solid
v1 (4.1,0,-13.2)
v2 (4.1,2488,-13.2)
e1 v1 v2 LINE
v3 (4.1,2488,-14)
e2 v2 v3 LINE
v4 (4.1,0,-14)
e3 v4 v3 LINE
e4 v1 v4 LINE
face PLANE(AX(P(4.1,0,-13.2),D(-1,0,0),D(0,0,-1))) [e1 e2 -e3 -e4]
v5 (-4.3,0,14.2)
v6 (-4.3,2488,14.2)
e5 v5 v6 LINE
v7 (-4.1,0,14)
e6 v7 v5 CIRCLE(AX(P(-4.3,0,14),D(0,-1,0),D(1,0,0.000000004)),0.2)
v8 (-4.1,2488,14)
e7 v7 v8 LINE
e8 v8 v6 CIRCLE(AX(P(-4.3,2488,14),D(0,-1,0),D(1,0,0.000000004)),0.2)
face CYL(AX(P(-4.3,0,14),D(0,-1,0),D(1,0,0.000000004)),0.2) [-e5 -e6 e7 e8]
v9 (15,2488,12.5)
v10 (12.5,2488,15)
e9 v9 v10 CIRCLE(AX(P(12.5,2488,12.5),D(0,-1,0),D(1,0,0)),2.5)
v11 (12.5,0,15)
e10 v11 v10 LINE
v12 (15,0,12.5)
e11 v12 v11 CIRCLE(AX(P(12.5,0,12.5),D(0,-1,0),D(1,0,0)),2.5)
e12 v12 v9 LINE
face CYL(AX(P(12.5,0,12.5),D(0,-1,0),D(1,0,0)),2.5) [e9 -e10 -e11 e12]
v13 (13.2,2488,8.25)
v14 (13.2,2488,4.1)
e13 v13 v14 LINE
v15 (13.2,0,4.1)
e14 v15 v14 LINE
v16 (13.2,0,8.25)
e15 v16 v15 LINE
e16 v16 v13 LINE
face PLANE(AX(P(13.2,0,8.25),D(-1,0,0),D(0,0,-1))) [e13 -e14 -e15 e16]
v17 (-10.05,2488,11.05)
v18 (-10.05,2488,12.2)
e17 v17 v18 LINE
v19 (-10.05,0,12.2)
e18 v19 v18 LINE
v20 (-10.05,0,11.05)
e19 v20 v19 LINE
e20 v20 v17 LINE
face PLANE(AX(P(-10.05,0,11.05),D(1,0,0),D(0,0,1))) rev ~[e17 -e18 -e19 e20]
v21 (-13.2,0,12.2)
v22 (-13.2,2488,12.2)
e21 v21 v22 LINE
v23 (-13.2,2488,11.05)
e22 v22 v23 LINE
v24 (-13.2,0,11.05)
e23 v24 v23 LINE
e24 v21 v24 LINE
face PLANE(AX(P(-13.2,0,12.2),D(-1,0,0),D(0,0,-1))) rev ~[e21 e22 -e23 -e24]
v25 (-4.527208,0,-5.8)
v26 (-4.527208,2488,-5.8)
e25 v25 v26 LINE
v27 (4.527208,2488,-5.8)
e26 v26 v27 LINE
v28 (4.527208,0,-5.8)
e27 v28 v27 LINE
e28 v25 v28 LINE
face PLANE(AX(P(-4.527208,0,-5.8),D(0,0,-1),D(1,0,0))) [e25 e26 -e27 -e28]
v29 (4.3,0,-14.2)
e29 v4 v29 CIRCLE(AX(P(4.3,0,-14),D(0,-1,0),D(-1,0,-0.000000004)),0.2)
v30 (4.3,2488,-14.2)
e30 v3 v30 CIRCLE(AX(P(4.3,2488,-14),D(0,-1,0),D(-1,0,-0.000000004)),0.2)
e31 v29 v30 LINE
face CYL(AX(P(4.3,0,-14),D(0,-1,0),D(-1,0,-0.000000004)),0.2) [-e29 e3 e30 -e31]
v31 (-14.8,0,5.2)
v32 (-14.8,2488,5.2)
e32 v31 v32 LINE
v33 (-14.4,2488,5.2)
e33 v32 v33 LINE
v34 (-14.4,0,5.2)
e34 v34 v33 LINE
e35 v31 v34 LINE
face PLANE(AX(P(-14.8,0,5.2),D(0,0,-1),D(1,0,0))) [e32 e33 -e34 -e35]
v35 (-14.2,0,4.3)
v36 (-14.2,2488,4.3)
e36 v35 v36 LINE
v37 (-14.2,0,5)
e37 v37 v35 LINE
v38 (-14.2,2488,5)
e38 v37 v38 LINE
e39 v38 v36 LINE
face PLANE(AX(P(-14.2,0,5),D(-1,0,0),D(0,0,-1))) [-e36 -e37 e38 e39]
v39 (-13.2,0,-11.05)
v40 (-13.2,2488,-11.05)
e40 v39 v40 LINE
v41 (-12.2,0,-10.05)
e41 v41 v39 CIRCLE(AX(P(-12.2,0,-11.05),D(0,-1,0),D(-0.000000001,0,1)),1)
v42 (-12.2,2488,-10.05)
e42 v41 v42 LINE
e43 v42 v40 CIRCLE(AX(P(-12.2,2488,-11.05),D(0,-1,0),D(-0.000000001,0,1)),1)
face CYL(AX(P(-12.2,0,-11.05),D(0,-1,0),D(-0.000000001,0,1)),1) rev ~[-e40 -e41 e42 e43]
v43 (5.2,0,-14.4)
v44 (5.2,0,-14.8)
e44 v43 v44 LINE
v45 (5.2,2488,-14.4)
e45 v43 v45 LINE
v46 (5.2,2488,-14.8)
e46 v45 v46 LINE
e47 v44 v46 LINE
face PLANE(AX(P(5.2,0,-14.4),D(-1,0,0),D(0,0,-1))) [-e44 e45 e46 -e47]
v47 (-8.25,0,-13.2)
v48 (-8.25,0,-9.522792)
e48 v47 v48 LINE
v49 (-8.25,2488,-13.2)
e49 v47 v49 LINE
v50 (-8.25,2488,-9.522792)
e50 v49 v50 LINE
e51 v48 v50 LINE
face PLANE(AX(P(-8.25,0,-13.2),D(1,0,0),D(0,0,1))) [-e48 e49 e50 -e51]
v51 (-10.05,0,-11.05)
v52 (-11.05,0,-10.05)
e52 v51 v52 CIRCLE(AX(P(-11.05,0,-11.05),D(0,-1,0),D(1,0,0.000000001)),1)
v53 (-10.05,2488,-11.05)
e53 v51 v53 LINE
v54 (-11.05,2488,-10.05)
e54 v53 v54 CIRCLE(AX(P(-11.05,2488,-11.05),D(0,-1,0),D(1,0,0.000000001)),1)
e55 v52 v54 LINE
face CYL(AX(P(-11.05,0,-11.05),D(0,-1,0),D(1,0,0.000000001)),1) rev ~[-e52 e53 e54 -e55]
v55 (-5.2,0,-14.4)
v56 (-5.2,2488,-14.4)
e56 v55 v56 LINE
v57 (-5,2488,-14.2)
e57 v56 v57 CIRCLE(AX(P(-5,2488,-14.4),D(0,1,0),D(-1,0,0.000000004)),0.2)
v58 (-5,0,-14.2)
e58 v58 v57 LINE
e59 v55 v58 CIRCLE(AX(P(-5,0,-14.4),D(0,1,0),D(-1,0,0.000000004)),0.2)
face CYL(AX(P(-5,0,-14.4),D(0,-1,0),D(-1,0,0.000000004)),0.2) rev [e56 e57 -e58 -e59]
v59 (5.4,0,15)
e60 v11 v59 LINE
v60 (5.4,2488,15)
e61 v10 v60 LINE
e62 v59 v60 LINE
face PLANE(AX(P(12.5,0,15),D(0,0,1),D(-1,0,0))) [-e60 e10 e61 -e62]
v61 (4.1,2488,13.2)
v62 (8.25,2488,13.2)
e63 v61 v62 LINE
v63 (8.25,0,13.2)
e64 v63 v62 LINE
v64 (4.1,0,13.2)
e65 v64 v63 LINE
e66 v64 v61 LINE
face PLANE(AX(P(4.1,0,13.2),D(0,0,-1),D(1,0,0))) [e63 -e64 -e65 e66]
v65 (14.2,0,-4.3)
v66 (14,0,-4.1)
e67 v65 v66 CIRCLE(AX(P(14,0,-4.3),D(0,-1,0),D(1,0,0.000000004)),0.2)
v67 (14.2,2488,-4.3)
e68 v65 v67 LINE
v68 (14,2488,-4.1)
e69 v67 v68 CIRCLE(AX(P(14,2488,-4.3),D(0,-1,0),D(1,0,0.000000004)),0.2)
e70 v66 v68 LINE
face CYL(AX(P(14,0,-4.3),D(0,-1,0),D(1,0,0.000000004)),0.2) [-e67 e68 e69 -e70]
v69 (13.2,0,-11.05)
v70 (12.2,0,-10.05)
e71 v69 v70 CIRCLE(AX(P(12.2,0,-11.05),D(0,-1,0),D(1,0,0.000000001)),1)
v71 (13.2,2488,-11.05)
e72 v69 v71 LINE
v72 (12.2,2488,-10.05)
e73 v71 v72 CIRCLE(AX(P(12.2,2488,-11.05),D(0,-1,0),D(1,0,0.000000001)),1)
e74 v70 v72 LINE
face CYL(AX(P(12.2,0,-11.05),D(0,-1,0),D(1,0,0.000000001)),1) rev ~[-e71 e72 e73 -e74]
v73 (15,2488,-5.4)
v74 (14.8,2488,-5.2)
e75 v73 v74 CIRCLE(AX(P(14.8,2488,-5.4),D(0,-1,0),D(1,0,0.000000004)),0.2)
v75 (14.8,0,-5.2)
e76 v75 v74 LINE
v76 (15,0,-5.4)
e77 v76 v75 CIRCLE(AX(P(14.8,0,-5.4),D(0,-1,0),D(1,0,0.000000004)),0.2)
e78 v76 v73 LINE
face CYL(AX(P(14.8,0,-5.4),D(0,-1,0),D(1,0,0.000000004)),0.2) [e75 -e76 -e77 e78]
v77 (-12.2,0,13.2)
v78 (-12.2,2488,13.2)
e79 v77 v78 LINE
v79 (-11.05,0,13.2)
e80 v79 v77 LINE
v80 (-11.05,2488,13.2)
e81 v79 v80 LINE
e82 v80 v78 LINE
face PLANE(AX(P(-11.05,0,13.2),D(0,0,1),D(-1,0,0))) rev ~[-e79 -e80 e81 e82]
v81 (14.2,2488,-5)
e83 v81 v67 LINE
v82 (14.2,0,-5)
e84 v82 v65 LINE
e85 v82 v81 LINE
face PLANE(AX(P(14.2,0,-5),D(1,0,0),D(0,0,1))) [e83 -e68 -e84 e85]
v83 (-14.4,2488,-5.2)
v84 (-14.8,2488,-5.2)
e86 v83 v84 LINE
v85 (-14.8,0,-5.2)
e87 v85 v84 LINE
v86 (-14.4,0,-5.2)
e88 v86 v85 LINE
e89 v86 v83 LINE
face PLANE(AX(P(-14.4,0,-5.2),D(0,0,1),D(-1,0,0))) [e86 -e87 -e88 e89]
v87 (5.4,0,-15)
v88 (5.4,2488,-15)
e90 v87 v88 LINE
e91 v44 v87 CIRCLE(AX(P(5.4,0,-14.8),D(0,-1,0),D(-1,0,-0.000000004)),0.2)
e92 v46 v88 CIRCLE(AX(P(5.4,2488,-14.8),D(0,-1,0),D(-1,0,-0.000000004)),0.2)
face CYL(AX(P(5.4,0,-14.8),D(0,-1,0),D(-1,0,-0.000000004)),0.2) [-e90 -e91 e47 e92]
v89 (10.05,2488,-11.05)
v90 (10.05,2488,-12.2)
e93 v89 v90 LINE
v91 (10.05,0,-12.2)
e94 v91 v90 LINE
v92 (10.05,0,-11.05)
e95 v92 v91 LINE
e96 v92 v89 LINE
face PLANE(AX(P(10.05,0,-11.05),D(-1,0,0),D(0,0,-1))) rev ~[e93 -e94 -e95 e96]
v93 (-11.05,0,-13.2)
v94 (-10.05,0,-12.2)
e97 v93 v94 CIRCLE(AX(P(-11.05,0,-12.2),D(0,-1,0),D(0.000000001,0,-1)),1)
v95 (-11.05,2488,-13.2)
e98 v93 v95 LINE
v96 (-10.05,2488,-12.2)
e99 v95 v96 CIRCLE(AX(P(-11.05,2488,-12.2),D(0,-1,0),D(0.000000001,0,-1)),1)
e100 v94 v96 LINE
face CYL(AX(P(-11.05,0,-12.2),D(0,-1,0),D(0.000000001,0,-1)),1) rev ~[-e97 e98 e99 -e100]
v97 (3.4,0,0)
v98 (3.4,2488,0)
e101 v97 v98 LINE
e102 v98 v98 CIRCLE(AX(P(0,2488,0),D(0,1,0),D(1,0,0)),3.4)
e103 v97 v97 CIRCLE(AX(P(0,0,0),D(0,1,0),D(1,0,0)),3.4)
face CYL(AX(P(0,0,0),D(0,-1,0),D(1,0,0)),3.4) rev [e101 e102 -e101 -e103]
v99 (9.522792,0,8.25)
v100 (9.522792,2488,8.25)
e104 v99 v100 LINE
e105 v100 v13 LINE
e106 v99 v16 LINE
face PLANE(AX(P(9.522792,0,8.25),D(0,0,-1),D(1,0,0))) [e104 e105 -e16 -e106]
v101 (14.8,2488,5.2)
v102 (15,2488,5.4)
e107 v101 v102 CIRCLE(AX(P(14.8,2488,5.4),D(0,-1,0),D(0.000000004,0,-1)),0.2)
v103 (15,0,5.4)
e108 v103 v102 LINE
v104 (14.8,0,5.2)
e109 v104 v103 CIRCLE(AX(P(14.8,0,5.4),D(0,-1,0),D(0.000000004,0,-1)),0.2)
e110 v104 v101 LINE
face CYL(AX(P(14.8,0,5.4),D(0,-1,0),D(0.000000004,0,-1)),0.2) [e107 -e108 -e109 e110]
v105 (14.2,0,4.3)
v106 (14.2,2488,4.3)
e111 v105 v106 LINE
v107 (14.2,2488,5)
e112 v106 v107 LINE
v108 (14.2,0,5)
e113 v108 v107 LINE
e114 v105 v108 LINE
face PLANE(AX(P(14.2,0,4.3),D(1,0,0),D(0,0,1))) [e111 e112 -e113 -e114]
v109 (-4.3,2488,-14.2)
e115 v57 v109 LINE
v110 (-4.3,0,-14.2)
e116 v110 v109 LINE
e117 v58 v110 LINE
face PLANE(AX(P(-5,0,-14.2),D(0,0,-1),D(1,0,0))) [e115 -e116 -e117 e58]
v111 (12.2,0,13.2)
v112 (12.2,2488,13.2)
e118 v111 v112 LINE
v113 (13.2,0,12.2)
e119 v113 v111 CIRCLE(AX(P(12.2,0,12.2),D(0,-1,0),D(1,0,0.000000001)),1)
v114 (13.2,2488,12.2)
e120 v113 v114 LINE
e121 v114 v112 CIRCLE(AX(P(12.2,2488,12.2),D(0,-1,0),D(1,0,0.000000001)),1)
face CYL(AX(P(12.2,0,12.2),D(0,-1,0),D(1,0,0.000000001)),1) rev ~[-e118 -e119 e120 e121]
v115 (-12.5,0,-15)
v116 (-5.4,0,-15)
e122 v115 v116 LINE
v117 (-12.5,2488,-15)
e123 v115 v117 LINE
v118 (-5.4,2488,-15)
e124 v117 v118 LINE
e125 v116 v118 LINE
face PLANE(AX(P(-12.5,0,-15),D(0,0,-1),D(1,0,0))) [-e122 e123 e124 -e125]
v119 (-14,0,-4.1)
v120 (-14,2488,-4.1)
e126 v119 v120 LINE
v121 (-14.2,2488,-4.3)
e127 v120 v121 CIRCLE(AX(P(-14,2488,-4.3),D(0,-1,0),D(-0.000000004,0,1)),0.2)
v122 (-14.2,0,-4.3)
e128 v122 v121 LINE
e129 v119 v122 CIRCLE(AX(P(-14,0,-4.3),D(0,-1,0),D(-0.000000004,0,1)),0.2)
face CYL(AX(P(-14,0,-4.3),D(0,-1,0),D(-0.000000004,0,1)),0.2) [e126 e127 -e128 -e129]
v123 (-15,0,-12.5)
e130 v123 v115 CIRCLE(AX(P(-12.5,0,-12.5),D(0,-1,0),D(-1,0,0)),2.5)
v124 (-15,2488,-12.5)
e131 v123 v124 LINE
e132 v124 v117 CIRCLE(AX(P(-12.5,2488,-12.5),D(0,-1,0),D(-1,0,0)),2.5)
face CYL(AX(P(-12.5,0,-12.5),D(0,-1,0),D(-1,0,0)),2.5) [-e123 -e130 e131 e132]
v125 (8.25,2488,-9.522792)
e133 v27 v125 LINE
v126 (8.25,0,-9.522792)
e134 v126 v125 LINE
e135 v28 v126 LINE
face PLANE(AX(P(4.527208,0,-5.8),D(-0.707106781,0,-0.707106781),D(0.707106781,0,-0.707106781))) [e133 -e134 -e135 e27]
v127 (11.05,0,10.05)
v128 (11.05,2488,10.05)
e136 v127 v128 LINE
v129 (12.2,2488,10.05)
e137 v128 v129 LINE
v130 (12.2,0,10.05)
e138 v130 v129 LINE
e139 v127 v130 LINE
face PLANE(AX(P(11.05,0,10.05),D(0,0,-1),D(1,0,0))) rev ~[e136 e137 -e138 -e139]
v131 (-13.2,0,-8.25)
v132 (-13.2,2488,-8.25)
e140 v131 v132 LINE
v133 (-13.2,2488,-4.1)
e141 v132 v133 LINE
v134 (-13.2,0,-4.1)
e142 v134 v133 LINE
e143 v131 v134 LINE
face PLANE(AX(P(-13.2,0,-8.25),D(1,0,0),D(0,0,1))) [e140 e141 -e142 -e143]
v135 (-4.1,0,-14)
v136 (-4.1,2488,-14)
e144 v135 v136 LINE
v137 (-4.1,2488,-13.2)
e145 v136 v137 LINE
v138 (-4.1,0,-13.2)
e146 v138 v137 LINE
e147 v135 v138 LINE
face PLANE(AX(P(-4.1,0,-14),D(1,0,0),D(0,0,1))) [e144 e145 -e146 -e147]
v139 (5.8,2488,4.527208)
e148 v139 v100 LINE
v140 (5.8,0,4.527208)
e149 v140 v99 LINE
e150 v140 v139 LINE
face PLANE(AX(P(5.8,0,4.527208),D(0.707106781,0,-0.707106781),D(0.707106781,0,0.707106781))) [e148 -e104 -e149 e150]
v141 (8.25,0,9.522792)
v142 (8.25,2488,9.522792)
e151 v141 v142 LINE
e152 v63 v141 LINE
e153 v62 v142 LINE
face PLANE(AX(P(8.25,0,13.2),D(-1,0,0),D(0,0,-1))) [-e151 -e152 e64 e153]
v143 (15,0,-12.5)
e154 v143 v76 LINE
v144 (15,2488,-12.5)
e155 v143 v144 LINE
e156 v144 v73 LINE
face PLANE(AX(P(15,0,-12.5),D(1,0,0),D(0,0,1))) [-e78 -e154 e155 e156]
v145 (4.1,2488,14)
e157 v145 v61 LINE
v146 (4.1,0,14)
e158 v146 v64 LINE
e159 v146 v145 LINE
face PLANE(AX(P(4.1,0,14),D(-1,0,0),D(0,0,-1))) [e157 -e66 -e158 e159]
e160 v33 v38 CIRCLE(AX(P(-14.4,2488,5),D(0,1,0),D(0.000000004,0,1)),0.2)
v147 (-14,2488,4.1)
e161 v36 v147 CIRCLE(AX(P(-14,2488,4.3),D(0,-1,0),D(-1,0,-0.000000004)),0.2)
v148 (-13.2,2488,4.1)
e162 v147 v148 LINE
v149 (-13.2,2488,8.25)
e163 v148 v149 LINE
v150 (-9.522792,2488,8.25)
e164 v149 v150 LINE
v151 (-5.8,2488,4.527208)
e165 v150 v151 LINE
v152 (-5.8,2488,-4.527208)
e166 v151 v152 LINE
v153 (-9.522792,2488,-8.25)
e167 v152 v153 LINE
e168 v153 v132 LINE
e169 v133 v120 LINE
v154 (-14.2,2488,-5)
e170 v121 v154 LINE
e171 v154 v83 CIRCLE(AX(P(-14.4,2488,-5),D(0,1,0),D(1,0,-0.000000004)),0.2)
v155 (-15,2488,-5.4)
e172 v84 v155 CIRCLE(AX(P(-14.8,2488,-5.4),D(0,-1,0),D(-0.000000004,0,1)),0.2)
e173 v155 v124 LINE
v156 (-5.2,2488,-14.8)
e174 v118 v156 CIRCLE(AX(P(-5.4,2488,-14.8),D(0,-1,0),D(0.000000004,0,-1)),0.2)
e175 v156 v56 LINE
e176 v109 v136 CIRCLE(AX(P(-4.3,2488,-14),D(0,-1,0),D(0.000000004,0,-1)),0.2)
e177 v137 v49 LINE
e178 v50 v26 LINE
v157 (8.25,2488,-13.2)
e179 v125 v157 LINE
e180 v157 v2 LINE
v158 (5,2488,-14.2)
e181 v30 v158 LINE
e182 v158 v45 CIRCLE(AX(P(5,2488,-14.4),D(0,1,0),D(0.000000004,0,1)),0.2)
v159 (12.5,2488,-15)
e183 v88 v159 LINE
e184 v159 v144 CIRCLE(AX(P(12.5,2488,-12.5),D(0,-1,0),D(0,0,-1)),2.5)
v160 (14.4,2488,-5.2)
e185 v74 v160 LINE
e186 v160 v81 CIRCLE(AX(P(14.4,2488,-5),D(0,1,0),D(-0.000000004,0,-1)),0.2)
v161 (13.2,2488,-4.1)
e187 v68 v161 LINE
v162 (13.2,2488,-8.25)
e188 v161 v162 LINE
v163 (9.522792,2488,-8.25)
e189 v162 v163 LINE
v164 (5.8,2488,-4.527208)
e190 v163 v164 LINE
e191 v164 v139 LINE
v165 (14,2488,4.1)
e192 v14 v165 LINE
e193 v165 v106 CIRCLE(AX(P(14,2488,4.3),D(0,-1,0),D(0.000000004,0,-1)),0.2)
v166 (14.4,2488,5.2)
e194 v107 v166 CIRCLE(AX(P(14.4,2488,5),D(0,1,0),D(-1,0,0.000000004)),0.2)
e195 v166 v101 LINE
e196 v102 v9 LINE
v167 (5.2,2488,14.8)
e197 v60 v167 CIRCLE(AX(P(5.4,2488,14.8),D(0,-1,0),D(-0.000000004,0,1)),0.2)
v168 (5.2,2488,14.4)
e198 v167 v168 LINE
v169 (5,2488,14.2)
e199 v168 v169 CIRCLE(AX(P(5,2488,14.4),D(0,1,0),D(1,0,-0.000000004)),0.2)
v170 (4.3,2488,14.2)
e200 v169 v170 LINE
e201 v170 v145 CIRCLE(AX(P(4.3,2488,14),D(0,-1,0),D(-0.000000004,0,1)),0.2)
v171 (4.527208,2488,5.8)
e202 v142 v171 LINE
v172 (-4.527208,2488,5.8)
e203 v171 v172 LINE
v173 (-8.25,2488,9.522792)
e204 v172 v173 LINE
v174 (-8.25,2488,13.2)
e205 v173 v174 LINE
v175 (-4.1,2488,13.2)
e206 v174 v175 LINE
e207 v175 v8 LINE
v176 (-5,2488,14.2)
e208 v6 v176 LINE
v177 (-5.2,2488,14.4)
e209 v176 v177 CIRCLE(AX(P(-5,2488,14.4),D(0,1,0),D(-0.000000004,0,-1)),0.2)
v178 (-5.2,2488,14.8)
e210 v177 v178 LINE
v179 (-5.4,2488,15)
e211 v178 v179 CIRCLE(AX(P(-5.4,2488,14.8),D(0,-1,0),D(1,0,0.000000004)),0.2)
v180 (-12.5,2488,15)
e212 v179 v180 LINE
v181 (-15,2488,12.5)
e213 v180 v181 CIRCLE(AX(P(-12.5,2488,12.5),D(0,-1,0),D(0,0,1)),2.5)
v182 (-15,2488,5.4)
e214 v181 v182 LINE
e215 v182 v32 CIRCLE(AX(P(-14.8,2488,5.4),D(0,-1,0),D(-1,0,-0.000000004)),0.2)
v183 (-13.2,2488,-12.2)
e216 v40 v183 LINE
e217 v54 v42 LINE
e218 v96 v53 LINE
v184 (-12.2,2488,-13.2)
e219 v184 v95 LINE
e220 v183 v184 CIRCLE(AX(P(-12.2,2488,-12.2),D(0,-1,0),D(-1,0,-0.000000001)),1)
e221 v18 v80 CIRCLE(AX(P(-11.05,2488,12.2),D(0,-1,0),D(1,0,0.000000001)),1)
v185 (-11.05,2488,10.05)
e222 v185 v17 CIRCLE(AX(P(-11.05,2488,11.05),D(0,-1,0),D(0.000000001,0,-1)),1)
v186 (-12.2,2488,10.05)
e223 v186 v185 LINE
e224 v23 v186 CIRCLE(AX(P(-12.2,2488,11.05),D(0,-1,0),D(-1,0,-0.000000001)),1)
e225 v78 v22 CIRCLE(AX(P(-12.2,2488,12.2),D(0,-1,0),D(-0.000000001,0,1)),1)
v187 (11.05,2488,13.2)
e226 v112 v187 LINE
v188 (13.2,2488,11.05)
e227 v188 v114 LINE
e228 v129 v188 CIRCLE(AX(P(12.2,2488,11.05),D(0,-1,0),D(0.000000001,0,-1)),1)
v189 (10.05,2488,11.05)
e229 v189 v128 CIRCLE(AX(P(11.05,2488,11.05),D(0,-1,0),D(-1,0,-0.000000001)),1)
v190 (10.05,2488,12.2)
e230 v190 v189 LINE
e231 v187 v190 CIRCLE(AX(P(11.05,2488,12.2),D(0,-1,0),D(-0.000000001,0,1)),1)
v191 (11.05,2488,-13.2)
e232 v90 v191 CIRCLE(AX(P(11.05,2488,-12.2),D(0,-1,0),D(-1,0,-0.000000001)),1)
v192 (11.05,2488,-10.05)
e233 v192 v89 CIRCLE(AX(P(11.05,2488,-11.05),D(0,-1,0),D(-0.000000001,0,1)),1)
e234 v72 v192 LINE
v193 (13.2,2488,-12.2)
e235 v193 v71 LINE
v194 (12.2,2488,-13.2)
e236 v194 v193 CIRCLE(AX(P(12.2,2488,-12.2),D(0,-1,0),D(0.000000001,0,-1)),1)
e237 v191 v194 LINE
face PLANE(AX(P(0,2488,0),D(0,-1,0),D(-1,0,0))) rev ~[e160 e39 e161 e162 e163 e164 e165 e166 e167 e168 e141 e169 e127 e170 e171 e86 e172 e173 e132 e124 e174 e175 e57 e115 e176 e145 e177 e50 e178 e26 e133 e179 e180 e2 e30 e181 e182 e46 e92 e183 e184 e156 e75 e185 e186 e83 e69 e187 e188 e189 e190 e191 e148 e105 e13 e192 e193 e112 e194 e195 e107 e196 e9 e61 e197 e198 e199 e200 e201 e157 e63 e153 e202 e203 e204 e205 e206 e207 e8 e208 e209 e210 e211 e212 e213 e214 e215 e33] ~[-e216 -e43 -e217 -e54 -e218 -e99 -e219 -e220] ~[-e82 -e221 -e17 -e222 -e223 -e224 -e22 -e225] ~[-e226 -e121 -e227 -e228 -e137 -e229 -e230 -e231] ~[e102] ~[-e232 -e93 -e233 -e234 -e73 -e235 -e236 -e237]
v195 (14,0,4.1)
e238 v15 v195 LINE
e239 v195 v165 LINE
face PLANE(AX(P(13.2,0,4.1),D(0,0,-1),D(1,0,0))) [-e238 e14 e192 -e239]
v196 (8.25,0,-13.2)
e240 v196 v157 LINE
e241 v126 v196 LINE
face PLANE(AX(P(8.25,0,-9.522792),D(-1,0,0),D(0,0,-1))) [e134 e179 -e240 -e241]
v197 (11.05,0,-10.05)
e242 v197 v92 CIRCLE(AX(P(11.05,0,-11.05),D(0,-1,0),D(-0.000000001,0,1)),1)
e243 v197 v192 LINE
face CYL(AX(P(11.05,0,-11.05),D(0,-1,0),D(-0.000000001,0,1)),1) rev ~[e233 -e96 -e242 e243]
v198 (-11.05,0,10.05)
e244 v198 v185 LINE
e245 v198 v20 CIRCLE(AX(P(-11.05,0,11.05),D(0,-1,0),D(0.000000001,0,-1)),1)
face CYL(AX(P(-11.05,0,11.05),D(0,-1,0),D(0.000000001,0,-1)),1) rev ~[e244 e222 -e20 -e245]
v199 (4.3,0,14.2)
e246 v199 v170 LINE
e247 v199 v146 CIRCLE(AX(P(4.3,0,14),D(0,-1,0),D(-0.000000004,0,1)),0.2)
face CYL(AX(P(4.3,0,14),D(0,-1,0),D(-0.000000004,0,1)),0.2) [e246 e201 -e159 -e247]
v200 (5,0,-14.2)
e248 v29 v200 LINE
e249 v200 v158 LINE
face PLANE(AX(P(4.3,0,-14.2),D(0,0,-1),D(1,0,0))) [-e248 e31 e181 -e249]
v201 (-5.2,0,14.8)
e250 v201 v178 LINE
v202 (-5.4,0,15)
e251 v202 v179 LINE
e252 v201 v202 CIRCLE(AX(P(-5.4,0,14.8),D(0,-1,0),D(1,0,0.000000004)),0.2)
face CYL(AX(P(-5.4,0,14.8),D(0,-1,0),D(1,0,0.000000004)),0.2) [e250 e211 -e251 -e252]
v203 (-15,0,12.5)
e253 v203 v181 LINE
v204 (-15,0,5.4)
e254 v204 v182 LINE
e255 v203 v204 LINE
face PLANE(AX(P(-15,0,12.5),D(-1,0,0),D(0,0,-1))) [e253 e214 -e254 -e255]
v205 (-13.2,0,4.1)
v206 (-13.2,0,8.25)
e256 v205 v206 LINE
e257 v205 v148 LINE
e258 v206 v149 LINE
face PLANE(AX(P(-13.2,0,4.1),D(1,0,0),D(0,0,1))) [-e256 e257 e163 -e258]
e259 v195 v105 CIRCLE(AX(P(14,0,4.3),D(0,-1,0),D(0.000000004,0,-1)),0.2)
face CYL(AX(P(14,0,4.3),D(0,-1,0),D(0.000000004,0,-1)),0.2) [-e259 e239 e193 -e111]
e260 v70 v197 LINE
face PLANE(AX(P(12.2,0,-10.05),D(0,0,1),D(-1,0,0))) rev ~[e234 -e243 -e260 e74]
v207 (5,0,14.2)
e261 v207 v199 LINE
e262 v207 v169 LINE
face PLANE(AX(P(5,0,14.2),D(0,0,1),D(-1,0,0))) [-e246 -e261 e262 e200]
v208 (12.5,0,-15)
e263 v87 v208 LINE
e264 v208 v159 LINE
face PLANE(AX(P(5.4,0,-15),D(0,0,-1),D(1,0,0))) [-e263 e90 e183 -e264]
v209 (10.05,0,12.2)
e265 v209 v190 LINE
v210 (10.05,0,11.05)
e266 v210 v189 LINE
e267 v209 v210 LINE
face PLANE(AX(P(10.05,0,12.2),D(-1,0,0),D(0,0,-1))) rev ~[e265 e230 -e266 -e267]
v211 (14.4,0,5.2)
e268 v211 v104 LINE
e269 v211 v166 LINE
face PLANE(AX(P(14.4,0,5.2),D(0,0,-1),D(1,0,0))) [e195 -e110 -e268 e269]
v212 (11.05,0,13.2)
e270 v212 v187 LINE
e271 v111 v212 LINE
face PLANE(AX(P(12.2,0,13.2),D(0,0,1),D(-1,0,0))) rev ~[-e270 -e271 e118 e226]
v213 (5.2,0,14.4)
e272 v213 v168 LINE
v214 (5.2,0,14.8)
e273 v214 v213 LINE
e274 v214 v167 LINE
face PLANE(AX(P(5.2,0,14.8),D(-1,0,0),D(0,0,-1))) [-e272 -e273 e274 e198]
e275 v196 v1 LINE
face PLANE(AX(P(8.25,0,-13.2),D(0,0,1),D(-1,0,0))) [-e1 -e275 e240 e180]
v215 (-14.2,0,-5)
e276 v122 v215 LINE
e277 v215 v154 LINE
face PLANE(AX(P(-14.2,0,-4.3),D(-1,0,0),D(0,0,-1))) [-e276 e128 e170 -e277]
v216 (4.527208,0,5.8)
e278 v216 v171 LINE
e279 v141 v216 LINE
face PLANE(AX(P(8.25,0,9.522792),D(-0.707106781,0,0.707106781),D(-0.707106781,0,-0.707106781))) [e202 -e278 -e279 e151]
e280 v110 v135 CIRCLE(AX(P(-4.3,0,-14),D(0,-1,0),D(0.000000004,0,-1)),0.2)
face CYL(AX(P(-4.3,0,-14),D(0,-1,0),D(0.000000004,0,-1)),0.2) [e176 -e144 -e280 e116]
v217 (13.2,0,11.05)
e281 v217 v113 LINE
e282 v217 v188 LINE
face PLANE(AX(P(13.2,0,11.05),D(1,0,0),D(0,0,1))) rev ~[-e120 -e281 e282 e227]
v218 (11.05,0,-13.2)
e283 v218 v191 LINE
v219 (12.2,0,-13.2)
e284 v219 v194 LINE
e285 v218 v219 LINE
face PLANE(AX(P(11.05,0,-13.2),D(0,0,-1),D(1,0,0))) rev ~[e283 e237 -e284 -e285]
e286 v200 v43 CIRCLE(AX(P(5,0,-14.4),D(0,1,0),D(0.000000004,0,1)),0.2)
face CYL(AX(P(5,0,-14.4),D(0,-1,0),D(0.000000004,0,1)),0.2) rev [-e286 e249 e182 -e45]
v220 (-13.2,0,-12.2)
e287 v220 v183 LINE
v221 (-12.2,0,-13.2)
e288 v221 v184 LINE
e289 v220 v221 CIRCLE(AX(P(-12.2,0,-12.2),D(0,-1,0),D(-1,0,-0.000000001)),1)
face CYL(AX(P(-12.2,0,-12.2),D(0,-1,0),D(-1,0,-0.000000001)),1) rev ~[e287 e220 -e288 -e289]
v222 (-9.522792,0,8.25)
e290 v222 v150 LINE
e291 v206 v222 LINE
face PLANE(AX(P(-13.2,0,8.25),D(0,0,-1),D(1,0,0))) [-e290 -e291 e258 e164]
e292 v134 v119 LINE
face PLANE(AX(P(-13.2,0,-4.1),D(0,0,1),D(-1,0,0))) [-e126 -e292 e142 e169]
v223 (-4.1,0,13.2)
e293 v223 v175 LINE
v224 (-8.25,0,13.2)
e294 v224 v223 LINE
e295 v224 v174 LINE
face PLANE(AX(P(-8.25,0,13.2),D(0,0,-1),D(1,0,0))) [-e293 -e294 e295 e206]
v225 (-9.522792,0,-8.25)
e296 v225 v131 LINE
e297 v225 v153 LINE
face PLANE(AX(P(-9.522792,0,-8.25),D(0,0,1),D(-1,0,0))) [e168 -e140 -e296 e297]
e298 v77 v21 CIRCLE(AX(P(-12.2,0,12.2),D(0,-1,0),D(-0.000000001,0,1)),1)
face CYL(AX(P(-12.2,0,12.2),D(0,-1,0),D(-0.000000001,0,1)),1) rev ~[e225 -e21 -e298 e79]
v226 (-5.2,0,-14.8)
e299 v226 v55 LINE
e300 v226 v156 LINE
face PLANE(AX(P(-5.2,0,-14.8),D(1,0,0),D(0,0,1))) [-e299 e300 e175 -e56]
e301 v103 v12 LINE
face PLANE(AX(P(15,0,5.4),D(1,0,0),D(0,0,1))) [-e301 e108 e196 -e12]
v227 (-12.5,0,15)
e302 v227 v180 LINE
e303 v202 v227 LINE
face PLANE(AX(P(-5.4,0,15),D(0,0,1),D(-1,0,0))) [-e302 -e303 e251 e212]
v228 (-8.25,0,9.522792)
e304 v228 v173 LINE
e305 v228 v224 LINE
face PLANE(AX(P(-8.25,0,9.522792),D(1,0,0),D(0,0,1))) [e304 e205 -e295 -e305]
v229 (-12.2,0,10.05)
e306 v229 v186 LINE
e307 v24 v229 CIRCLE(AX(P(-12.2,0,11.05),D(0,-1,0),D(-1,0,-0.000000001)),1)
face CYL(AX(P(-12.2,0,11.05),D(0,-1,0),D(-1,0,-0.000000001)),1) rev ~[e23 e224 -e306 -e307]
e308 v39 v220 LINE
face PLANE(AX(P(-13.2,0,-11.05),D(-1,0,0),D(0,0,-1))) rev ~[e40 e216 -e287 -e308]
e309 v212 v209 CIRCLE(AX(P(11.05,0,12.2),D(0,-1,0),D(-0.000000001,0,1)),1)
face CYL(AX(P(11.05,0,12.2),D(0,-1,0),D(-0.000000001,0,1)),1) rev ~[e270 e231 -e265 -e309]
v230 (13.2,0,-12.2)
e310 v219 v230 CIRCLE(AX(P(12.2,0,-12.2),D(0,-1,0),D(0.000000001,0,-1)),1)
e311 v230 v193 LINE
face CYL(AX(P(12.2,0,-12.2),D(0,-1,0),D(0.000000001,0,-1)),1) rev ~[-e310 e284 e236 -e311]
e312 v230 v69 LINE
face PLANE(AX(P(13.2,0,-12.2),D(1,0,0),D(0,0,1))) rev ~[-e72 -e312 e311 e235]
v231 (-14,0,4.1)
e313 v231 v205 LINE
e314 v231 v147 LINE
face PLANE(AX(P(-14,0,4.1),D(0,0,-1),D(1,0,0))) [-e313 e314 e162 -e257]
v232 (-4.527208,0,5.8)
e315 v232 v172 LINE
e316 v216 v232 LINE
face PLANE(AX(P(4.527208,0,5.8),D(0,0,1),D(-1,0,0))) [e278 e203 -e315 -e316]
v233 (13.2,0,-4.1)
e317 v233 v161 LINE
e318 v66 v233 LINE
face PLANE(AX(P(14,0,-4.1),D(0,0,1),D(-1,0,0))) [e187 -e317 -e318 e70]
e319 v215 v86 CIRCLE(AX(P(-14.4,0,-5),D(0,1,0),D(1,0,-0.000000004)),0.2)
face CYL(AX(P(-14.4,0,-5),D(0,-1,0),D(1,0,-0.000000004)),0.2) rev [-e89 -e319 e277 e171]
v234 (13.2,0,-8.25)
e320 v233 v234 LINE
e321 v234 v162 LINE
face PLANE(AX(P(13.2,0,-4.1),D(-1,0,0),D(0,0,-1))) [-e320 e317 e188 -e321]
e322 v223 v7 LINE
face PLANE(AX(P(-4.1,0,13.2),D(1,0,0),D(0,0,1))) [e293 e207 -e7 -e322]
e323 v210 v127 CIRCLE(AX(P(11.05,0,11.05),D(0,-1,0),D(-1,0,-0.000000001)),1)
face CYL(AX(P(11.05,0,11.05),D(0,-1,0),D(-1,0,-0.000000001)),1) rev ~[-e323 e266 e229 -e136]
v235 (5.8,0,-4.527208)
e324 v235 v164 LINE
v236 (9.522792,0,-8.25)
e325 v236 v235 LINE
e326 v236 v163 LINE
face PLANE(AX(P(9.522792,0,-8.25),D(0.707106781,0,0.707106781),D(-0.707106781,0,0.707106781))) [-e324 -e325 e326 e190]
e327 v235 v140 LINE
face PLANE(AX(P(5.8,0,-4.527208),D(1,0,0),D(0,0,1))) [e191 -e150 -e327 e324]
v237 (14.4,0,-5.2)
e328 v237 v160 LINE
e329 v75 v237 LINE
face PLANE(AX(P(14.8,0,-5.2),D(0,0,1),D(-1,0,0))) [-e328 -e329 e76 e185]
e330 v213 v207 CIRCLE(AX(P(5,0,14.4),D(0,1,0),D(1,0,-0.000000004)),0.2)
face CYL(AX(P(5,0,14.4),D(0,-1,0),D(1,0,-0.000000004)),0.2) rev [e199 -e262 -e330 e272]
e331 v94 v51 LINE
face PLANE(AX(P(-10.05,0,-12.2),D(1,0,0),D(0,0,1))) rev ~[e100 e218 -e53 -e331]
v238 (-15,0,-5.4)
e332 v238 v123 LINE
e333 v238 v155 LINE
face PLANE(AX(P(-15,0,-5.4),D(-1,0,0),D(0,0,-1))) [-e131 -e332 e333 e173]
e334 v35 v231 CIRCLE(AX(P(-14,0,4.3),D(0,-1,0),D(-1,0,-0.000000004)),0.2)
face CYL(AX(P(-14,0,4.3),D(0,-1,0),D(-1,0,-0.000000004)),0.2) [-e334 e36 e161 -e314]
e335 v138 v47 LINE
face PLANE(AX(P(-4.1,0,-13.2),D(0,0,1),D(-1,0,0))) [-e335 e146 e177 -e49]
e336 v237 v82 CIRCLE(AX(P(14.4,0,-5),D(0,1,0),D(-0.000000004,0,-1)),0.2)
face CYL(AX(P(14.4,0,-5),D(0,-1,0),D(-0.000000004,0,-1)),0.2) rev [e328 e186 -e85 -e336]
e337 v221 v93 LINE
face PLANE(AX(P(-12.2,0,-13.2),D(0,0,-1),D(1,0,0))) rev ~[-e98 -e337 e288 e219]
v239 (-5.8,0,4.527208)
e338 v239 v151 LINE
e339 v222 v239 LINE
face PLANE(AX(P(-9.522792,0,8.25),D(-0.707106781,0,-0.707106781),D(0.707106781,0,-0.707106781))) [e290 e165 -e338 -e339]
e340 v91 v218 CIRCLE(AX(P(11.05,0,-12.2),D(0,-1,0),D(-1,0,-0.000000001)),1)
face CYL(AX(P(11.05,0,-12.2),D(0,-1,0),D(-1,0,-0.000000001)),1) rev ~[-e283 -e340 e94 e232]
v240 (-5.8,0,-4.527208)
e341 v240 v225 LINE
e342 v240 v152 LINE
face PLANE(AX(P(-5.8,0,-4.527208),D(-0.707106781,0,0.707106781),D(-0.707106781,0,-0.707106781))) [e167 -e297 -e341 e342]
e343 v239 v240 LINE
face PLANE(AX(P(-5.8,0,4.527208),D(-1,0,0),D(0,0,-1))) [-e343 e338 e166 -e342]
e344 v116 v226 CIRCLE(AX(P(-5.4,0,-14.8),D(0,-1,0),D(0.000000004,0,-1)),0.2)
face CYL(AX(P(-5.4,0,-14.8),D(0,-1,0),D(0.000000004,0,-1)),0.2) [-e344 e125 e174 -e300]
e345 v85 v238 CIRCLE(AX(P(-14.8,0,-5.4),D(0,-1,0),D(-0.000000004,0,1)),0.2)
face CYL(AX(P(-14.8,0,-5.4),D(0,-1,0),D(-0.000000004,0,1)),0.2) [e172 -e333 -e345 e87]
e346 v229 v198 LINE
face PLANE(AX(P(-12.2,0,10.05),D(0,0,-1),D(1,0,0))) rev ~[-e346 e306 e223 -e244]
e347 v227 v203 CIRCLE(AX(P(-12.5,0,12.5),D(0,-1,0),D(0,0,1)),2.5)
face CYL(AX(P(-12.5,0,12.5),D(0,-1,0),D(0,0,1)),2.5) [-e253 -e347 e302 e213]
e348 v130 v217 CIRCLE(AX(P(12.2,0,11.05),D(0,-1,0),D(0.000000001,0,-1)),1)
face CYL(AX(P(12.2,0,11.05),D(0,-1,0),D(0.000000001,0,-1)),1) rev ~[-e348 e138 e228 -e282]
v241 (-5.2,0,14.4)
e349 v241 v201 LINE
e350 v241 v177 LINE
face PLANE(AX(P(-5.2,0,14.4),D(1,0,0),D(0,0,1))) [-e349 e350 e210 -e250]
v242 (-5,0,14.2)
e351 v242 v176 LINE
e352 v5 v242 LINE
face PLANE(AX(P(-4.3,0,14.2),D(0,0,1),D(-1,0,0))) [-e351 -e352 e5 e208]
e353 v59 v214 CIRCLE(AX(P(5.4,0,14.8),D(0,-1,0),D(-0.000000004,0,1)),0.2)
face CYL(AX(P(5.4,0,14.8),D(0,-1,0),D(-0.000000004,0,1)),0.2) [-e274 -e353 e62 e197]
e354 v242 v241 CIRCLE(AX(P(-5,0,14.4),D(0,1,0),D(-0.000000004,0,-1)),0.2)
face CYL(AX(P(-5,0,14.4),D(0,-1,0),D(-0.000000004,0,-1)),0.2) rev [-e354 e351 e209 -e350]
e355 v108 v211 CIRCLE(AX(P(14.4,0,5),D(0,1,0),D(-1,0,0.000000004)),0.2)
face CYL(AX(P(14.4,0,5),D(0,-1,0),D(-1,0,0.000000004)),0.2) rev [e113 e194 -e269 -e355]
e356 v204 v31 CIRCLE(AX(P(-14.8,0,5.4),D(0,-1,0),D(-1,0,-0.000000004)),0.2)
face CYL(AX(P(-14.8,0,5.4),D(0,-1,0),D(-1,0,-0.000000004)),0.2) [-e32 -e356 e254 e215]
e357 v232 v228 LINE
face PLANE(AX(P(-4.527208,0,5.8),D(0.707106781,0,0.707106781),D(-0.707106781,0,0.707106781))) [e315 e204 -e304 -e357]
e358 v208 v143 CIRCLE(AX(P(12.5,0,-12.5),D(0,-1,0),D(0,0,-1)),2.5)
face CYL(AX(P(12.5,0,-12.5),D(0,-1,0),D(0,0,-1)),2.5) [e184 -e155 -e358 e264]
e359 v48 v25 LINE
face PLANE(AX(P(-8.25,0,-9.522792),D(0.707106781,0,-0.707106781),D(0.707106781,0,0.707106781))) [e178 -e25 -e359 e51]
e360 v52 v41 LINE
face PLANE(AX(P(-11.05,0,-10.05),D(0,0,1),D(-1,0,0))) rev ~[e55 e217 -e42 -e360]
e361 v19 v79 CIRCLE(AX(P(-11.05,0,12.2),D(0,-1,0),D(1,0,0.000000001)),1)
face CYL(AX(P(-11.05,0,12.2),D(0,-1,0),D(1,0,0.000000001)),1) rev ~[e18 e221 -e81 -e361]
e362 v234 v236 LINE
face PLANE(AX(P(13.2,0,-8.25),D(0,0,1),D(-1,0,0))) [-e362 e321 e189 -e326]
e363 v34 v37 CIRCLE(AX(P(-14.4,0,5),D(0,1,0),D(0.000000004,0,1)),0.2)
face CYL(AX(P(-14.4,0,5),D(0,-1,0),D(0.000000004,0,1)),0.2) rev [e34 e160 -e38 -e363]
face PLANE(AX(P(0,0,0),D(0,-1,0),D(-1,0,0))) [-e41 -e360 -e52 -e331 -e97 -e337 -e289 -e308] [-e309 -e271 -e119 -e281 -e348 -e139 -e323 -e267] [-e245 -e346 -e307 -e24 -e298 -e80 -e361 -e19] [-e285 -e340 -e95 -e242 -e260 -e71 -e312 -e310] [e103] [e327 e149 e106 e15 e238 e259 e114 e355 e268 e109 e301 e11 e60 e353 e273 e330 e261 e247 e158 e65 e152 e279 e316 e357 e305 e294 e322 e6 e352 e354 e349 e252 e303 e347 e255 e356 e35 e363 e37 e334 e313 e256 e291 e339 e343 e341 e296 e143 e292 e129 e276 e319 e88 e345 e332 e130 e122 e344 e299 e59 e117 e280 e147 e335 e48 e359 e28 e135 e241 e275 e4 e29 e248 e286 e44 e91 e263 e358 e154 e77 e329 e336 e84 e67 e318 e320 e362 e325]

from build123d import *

# Parameters (mm, degrees)
SKETCH_3_R      = 3.4
EXTRUDE_1_DEPTH = 2488


with BuildPart() as part:
    # 草图3 → 凸台-拉伸1 (new body)
    with BuildSketch(Plane(origin=(0, 0, 0), x_dir=(1, 0, 0), z_dir=(0, 1, 0))):
        with BuildLine():
            Line((-15, -12.5), (-15, -5.4))
            ThreePointArc((-15, -5.4), (-14.941421356, -5.258578644), (-14.8, -5.2))
            Line((-14.8, -5.2), (-14.4, -5.2))
            ThreePointArc((-14.4, -5.2), (-14.258578644, -5.141421356), (-14.2, -5))
            Line((-14.2, -5), (-14.2, -4.3))
            ThreePointArc((-14.2, -4.3), (-14.141421356, -4.158578644), (-14, -4.1))
            Line((-14, -4.1), (-13.2, -4.1))
            Line((-13.2, -4.1), (-13.2, -8.25))
            Line((-13.2, -8.25), (-9.522792206, -8.25))
            Line((-9.522792206, -8.25), (-5.8, -4.527207794))
            Line((-5.8, -4.527207794), (-5.8, 4.527207794))
            Line((-5.8, 4.527207794), (-9.522792206, 8.25))
            Line((-9.522792206, 8.25), (-13.2, 8.25))
            Line((-13.2, 8.25), (-13.2, 4.1))
            Line((-13.2, 4.1), (-14, 4.1))
            ThreePointArc((-14, 4.1), (-14.141421356, 4.158578644), (-14.2, 4.3))
            Line((-14.2, 4.3), (-14.2, 5))
            ThreePointArc((-14.2, 5), (-14.258578644, 5.141421356), (-14.4, 5.2))
            Line((-14.4, 5.2), (-14.8, 5.2))
            ThreePointArc((-14.8, 5.2), (-14.941421356, 5.258578644), (-15, 5.4))
            Line((-15, 5.4), (-15, 12.5))
            ThreePointArc((-15, 12.5), (-14.267766953, 14.267766953), (-12.5, 15))
            Line((-12.5, 15), (-5.4, 15))
            ThreePointArc((-5.4, 15), (-5.258578644, 14.941421356), (-5.2, 14.8))
            Line((-5.2, 14.8), (-5.2, 14.4))
            ThreePointArc((-5.2, 14.4), (-5.141421356, 14.258578644), (-5, 14.2))
            Line((-5, 14.2), (-4.3, 14.2))
            ThreePointArc((-4.3, 14.2), (-4.158578644, 14.141421356), (-4.1, 14))
            Line((-4.1, 14), (-4.1, 13.2))
            Line((-4.1, 13.2), (-8.25, 13.2))
            Line((-8.25, 13.2), (-8.25, 9.522792206))
            Line((-8.25, 9.522792206), (-4.527207794, 5.8))
            Line((-4.527207794, 5.8), (4.527207794, 5.8))
            Line((4.527207794, 5.8), (8.25, 9.522792206))
            Line((8.25, 9.522792206), (8.25, 13.2))
            Line((8.25, 13.2), (4.1, 13.2))
            Line((4.1, 13.2), (4.1, 14))
            ThreePointArc((4.1, 14), (4.158578644, 14.141421356), (4.3, 14.2))
            Line((4.3, 14.2), (5, 14.2))
            ThreePointArc((5, 14.2), (5.141421356, 14.258578644), (5.2, 14.4))
            Line((5.2, 14.4), (5.2, 14.8))
            ThreePointArc((5.2, 14.8), (5.258578644, 14.941421356), (5.4, 15))
            Line((5.4, 15), (12.5, 15))
            ThreePointArc((12.5, 15), (14.267766953, 14.267766953), (15, 12.5))
            Line((15, 12.5), (15, 5.4))
            ThreePointArc((15, 5.4), (14.941421356, 5.258578644), (14.8, 5.2))
            Line((14.8, 5.2), (14.4, 5.2))
            ThreePointArc((14.4, 5.2), (14.258578644, 5.141421356), (14.2, 5))
            Line((14.2, 5), (14.2, 4.3))
            ThreePointArc((14.2, 4.3), (14.141421356, 4.158578644), (14, 4.1))
            Line((14, 4.1), (13.2, 4.1))
            Line((13.2, 4.1), (13.2, 8.25))
            Line((13.2, 8.25), (9.522792206, 8.25))
            Line((9.522792206, 8.25), (5.8, 4.527207794))
            Line((5.8, 4.527207794), (5.8, -4.527207794))
            Line((5.8, -4.527207794), (9.522792206, -8.25))
            Line((9.522792206, -8.25), (13.2, -8.25))
            Line((13.2, -8.25), (13.2, -4.1))
            Line((13.2, -4.1), (14, -4.1))
            ThreePointArc((14, -4.1), (14.141421356, -4.158578644), (14.2, -4.3))
            Line((14.2, -4.3), (14.2, -5))
            ThreePointArc((14.2, -5), (14.258578644, -5.141421356), (14.4, -5.2))
            Line((14.4, -5.2), (14.8, -5.2))
            ThreePointArc((14.8, -5.2), (14.941421356, -5.258578644), (15, -5.4))
            Line((15, -5.4), (15, -12.5))
            ThreePointArc((15, -12.5), (14.267766953, -14.267766953), (12.5, -15))
            Line((12.5, -15), (5.4, -15))
            ThreePointArc((5.4, -15), (5.258578644, -14.941421356), (5.2, -14.8))
            Line((5.2, -14.8), (5.2, -14.4))
            ThreePointArc((5.2, -14.4), (5.141421356, -14.258578644), (5, -14.2))
            Line((5, -14.2), (4.3, -14.2))
            ThreePointArc((4.3, -14.2), (4.158578644, -14.141421356), (4.1, -14))
            Line((4.1, -14), (4.1, -13.2))
            Line((4.1, -13.2), (8.25, -13.2))
            Line((8.25, -13.2), (8.25, -9.522792206))
            Line((8.25, -9.522792206), (4.527207794, -5.8))
            Line((4.527207794, -5.8), (-4.527207794, -5.8))
            Line((-4.527207794, -5.8), (-8.25, -9.522792206))
            Line((-8.25, -9.522792206), (-8.25, -13.2))
            Line((-8.25, -13.2), (-4.1, -13.2))
            Line((-4.1, -13.2), (-4.1, -14))
            ThreePointArc((-4.1, -14), (-4.158578644, -14.141421356), (-4.3, -14.2))
            Line((-4.3, -14.2), (-5, -14.2))
            ThreePointArc((-5, -14.2), (-5.141421356, -14.258578644), (-5.2, -14.4))
            Line((-5.2, -14.4), (-5.2, -14.8))
            ThreePointArc((-5.2, -14.8), (-5.258578644, -14.941421356), (-5.4, -15))
            Line((-5.4, -15), (-12.5, -15))
            ThreePointArc((-12.5, -15), (-14.267766953, -14.267766953), (-15, -12.5))
        make_face()
        Circle(SKETCH_3_R, mode=Mode.SUBTRACT)
        with BuildLine():
            Line((-13.2, -12.2), (-13.2, -11.05))
            ThreePointArc((-13.2, -11.05), (-12.907106781, -10.342893219), (-12.2, -10.05))
            Line((-12.2, -10.05), (-11.05, -10.05))
            ThreePointArc((-11.05, -10.05), (-10.342893219, -10.342893219), (-10.05, -11.05))
            Line((-10.05, -11.05), (-10.05, -12.2))
            ThreePointArc((-10.05, -12.2), (-10.342893219, -12.907106781), (-11.05, -13.2))
            Line((-11.05, -13.2), (-12.2, -13.2))
            ThreePointArc((-12.2, -13.2), (-12.907106781, -12.907106781), (-13.2, -12.2))
        make_face(mode=Mode.SUBTRACT)
        with BuildLine():
            Line((-10.05, 12.2), (-10.05, 11.05))
            ThreePointArc((-10.05, 11.05), (-10.342893219, 10.342893219), (-11.05, 10.05))
            Line((-11.05, 10.05), (-12.2, 10.05))
            ThreePointArc((-12.2, 10.05), (-12.907106781, 10.342893219), (-13.2, 11.05))
            Line((-13.2, 11.05), (-13.2, 12.2))
            ThreePointArc((-13.2, 12.2), (-12.907106781, 12.907106781), (-12.2, 13.2))
            Line((-12.2, 13.2), (-11.05, 13.2))
            ThreePointArc((-11.05, 13.2), (-10.342893219, 12.907106781), (-10.05, 12.2))
        make_face(mode=Mode.SUBTRACT)
        with BuildLine():
            Line((13.2, 12.2), (13.2, 11.05))
            ThreePointArc((13.2, 11.05), (12.907106781, 10.342893219), (12.2, 10.05))
            Line((12.2, 10.05), (11.05, 10.05))
            ThreePointArc((11.05, 10.05), (10.342893219, 10.342893219), (10.05, 11.05))
            Line((10.05, 11.05), (10.05, 12.2))
            ThreePointArc((10.05, 12.2), (10.342893219, 12.907106781), (11.05, 13.2))
            Line((11.05, 13.2), (12.2, 13.2))
            ThreePointArc((12.2, 13.2), (12.907106781, 12.907106781), (13.2, 12.2))
        make_face(mode=Mode.SUBTRACT)
        with BuildLine():
            Line((10.05, -12.2), (10.05, -11.05))
            ThreePointArc((10.05, -11.05), (10.342893219, -10.342893219), (11.05, -10.05))
            Line((11.05, -10.05), (12.2, -10.05))
            ThreePointArc((12.2, -10.05), (12.907106781, -10.342893219), (13.2, -11.05))
            Line((13.2, -11.05), (13.2, -12.2))
            ThreePointArc((13.2, -12.2), (12.907106781, -12.907106781), (12.2, -13.2))
            Line((12.2, -13.2), (11.05, -13.2))
            ThreePointArc((11.05, -13.2), (10.342893219, -12.907106781), (10.05, -12.2))
        make_face(mode=Mode.SUBTRACT)
    extrude(amount=EXTRUDE_1_DEPTH)


solid = part.part
